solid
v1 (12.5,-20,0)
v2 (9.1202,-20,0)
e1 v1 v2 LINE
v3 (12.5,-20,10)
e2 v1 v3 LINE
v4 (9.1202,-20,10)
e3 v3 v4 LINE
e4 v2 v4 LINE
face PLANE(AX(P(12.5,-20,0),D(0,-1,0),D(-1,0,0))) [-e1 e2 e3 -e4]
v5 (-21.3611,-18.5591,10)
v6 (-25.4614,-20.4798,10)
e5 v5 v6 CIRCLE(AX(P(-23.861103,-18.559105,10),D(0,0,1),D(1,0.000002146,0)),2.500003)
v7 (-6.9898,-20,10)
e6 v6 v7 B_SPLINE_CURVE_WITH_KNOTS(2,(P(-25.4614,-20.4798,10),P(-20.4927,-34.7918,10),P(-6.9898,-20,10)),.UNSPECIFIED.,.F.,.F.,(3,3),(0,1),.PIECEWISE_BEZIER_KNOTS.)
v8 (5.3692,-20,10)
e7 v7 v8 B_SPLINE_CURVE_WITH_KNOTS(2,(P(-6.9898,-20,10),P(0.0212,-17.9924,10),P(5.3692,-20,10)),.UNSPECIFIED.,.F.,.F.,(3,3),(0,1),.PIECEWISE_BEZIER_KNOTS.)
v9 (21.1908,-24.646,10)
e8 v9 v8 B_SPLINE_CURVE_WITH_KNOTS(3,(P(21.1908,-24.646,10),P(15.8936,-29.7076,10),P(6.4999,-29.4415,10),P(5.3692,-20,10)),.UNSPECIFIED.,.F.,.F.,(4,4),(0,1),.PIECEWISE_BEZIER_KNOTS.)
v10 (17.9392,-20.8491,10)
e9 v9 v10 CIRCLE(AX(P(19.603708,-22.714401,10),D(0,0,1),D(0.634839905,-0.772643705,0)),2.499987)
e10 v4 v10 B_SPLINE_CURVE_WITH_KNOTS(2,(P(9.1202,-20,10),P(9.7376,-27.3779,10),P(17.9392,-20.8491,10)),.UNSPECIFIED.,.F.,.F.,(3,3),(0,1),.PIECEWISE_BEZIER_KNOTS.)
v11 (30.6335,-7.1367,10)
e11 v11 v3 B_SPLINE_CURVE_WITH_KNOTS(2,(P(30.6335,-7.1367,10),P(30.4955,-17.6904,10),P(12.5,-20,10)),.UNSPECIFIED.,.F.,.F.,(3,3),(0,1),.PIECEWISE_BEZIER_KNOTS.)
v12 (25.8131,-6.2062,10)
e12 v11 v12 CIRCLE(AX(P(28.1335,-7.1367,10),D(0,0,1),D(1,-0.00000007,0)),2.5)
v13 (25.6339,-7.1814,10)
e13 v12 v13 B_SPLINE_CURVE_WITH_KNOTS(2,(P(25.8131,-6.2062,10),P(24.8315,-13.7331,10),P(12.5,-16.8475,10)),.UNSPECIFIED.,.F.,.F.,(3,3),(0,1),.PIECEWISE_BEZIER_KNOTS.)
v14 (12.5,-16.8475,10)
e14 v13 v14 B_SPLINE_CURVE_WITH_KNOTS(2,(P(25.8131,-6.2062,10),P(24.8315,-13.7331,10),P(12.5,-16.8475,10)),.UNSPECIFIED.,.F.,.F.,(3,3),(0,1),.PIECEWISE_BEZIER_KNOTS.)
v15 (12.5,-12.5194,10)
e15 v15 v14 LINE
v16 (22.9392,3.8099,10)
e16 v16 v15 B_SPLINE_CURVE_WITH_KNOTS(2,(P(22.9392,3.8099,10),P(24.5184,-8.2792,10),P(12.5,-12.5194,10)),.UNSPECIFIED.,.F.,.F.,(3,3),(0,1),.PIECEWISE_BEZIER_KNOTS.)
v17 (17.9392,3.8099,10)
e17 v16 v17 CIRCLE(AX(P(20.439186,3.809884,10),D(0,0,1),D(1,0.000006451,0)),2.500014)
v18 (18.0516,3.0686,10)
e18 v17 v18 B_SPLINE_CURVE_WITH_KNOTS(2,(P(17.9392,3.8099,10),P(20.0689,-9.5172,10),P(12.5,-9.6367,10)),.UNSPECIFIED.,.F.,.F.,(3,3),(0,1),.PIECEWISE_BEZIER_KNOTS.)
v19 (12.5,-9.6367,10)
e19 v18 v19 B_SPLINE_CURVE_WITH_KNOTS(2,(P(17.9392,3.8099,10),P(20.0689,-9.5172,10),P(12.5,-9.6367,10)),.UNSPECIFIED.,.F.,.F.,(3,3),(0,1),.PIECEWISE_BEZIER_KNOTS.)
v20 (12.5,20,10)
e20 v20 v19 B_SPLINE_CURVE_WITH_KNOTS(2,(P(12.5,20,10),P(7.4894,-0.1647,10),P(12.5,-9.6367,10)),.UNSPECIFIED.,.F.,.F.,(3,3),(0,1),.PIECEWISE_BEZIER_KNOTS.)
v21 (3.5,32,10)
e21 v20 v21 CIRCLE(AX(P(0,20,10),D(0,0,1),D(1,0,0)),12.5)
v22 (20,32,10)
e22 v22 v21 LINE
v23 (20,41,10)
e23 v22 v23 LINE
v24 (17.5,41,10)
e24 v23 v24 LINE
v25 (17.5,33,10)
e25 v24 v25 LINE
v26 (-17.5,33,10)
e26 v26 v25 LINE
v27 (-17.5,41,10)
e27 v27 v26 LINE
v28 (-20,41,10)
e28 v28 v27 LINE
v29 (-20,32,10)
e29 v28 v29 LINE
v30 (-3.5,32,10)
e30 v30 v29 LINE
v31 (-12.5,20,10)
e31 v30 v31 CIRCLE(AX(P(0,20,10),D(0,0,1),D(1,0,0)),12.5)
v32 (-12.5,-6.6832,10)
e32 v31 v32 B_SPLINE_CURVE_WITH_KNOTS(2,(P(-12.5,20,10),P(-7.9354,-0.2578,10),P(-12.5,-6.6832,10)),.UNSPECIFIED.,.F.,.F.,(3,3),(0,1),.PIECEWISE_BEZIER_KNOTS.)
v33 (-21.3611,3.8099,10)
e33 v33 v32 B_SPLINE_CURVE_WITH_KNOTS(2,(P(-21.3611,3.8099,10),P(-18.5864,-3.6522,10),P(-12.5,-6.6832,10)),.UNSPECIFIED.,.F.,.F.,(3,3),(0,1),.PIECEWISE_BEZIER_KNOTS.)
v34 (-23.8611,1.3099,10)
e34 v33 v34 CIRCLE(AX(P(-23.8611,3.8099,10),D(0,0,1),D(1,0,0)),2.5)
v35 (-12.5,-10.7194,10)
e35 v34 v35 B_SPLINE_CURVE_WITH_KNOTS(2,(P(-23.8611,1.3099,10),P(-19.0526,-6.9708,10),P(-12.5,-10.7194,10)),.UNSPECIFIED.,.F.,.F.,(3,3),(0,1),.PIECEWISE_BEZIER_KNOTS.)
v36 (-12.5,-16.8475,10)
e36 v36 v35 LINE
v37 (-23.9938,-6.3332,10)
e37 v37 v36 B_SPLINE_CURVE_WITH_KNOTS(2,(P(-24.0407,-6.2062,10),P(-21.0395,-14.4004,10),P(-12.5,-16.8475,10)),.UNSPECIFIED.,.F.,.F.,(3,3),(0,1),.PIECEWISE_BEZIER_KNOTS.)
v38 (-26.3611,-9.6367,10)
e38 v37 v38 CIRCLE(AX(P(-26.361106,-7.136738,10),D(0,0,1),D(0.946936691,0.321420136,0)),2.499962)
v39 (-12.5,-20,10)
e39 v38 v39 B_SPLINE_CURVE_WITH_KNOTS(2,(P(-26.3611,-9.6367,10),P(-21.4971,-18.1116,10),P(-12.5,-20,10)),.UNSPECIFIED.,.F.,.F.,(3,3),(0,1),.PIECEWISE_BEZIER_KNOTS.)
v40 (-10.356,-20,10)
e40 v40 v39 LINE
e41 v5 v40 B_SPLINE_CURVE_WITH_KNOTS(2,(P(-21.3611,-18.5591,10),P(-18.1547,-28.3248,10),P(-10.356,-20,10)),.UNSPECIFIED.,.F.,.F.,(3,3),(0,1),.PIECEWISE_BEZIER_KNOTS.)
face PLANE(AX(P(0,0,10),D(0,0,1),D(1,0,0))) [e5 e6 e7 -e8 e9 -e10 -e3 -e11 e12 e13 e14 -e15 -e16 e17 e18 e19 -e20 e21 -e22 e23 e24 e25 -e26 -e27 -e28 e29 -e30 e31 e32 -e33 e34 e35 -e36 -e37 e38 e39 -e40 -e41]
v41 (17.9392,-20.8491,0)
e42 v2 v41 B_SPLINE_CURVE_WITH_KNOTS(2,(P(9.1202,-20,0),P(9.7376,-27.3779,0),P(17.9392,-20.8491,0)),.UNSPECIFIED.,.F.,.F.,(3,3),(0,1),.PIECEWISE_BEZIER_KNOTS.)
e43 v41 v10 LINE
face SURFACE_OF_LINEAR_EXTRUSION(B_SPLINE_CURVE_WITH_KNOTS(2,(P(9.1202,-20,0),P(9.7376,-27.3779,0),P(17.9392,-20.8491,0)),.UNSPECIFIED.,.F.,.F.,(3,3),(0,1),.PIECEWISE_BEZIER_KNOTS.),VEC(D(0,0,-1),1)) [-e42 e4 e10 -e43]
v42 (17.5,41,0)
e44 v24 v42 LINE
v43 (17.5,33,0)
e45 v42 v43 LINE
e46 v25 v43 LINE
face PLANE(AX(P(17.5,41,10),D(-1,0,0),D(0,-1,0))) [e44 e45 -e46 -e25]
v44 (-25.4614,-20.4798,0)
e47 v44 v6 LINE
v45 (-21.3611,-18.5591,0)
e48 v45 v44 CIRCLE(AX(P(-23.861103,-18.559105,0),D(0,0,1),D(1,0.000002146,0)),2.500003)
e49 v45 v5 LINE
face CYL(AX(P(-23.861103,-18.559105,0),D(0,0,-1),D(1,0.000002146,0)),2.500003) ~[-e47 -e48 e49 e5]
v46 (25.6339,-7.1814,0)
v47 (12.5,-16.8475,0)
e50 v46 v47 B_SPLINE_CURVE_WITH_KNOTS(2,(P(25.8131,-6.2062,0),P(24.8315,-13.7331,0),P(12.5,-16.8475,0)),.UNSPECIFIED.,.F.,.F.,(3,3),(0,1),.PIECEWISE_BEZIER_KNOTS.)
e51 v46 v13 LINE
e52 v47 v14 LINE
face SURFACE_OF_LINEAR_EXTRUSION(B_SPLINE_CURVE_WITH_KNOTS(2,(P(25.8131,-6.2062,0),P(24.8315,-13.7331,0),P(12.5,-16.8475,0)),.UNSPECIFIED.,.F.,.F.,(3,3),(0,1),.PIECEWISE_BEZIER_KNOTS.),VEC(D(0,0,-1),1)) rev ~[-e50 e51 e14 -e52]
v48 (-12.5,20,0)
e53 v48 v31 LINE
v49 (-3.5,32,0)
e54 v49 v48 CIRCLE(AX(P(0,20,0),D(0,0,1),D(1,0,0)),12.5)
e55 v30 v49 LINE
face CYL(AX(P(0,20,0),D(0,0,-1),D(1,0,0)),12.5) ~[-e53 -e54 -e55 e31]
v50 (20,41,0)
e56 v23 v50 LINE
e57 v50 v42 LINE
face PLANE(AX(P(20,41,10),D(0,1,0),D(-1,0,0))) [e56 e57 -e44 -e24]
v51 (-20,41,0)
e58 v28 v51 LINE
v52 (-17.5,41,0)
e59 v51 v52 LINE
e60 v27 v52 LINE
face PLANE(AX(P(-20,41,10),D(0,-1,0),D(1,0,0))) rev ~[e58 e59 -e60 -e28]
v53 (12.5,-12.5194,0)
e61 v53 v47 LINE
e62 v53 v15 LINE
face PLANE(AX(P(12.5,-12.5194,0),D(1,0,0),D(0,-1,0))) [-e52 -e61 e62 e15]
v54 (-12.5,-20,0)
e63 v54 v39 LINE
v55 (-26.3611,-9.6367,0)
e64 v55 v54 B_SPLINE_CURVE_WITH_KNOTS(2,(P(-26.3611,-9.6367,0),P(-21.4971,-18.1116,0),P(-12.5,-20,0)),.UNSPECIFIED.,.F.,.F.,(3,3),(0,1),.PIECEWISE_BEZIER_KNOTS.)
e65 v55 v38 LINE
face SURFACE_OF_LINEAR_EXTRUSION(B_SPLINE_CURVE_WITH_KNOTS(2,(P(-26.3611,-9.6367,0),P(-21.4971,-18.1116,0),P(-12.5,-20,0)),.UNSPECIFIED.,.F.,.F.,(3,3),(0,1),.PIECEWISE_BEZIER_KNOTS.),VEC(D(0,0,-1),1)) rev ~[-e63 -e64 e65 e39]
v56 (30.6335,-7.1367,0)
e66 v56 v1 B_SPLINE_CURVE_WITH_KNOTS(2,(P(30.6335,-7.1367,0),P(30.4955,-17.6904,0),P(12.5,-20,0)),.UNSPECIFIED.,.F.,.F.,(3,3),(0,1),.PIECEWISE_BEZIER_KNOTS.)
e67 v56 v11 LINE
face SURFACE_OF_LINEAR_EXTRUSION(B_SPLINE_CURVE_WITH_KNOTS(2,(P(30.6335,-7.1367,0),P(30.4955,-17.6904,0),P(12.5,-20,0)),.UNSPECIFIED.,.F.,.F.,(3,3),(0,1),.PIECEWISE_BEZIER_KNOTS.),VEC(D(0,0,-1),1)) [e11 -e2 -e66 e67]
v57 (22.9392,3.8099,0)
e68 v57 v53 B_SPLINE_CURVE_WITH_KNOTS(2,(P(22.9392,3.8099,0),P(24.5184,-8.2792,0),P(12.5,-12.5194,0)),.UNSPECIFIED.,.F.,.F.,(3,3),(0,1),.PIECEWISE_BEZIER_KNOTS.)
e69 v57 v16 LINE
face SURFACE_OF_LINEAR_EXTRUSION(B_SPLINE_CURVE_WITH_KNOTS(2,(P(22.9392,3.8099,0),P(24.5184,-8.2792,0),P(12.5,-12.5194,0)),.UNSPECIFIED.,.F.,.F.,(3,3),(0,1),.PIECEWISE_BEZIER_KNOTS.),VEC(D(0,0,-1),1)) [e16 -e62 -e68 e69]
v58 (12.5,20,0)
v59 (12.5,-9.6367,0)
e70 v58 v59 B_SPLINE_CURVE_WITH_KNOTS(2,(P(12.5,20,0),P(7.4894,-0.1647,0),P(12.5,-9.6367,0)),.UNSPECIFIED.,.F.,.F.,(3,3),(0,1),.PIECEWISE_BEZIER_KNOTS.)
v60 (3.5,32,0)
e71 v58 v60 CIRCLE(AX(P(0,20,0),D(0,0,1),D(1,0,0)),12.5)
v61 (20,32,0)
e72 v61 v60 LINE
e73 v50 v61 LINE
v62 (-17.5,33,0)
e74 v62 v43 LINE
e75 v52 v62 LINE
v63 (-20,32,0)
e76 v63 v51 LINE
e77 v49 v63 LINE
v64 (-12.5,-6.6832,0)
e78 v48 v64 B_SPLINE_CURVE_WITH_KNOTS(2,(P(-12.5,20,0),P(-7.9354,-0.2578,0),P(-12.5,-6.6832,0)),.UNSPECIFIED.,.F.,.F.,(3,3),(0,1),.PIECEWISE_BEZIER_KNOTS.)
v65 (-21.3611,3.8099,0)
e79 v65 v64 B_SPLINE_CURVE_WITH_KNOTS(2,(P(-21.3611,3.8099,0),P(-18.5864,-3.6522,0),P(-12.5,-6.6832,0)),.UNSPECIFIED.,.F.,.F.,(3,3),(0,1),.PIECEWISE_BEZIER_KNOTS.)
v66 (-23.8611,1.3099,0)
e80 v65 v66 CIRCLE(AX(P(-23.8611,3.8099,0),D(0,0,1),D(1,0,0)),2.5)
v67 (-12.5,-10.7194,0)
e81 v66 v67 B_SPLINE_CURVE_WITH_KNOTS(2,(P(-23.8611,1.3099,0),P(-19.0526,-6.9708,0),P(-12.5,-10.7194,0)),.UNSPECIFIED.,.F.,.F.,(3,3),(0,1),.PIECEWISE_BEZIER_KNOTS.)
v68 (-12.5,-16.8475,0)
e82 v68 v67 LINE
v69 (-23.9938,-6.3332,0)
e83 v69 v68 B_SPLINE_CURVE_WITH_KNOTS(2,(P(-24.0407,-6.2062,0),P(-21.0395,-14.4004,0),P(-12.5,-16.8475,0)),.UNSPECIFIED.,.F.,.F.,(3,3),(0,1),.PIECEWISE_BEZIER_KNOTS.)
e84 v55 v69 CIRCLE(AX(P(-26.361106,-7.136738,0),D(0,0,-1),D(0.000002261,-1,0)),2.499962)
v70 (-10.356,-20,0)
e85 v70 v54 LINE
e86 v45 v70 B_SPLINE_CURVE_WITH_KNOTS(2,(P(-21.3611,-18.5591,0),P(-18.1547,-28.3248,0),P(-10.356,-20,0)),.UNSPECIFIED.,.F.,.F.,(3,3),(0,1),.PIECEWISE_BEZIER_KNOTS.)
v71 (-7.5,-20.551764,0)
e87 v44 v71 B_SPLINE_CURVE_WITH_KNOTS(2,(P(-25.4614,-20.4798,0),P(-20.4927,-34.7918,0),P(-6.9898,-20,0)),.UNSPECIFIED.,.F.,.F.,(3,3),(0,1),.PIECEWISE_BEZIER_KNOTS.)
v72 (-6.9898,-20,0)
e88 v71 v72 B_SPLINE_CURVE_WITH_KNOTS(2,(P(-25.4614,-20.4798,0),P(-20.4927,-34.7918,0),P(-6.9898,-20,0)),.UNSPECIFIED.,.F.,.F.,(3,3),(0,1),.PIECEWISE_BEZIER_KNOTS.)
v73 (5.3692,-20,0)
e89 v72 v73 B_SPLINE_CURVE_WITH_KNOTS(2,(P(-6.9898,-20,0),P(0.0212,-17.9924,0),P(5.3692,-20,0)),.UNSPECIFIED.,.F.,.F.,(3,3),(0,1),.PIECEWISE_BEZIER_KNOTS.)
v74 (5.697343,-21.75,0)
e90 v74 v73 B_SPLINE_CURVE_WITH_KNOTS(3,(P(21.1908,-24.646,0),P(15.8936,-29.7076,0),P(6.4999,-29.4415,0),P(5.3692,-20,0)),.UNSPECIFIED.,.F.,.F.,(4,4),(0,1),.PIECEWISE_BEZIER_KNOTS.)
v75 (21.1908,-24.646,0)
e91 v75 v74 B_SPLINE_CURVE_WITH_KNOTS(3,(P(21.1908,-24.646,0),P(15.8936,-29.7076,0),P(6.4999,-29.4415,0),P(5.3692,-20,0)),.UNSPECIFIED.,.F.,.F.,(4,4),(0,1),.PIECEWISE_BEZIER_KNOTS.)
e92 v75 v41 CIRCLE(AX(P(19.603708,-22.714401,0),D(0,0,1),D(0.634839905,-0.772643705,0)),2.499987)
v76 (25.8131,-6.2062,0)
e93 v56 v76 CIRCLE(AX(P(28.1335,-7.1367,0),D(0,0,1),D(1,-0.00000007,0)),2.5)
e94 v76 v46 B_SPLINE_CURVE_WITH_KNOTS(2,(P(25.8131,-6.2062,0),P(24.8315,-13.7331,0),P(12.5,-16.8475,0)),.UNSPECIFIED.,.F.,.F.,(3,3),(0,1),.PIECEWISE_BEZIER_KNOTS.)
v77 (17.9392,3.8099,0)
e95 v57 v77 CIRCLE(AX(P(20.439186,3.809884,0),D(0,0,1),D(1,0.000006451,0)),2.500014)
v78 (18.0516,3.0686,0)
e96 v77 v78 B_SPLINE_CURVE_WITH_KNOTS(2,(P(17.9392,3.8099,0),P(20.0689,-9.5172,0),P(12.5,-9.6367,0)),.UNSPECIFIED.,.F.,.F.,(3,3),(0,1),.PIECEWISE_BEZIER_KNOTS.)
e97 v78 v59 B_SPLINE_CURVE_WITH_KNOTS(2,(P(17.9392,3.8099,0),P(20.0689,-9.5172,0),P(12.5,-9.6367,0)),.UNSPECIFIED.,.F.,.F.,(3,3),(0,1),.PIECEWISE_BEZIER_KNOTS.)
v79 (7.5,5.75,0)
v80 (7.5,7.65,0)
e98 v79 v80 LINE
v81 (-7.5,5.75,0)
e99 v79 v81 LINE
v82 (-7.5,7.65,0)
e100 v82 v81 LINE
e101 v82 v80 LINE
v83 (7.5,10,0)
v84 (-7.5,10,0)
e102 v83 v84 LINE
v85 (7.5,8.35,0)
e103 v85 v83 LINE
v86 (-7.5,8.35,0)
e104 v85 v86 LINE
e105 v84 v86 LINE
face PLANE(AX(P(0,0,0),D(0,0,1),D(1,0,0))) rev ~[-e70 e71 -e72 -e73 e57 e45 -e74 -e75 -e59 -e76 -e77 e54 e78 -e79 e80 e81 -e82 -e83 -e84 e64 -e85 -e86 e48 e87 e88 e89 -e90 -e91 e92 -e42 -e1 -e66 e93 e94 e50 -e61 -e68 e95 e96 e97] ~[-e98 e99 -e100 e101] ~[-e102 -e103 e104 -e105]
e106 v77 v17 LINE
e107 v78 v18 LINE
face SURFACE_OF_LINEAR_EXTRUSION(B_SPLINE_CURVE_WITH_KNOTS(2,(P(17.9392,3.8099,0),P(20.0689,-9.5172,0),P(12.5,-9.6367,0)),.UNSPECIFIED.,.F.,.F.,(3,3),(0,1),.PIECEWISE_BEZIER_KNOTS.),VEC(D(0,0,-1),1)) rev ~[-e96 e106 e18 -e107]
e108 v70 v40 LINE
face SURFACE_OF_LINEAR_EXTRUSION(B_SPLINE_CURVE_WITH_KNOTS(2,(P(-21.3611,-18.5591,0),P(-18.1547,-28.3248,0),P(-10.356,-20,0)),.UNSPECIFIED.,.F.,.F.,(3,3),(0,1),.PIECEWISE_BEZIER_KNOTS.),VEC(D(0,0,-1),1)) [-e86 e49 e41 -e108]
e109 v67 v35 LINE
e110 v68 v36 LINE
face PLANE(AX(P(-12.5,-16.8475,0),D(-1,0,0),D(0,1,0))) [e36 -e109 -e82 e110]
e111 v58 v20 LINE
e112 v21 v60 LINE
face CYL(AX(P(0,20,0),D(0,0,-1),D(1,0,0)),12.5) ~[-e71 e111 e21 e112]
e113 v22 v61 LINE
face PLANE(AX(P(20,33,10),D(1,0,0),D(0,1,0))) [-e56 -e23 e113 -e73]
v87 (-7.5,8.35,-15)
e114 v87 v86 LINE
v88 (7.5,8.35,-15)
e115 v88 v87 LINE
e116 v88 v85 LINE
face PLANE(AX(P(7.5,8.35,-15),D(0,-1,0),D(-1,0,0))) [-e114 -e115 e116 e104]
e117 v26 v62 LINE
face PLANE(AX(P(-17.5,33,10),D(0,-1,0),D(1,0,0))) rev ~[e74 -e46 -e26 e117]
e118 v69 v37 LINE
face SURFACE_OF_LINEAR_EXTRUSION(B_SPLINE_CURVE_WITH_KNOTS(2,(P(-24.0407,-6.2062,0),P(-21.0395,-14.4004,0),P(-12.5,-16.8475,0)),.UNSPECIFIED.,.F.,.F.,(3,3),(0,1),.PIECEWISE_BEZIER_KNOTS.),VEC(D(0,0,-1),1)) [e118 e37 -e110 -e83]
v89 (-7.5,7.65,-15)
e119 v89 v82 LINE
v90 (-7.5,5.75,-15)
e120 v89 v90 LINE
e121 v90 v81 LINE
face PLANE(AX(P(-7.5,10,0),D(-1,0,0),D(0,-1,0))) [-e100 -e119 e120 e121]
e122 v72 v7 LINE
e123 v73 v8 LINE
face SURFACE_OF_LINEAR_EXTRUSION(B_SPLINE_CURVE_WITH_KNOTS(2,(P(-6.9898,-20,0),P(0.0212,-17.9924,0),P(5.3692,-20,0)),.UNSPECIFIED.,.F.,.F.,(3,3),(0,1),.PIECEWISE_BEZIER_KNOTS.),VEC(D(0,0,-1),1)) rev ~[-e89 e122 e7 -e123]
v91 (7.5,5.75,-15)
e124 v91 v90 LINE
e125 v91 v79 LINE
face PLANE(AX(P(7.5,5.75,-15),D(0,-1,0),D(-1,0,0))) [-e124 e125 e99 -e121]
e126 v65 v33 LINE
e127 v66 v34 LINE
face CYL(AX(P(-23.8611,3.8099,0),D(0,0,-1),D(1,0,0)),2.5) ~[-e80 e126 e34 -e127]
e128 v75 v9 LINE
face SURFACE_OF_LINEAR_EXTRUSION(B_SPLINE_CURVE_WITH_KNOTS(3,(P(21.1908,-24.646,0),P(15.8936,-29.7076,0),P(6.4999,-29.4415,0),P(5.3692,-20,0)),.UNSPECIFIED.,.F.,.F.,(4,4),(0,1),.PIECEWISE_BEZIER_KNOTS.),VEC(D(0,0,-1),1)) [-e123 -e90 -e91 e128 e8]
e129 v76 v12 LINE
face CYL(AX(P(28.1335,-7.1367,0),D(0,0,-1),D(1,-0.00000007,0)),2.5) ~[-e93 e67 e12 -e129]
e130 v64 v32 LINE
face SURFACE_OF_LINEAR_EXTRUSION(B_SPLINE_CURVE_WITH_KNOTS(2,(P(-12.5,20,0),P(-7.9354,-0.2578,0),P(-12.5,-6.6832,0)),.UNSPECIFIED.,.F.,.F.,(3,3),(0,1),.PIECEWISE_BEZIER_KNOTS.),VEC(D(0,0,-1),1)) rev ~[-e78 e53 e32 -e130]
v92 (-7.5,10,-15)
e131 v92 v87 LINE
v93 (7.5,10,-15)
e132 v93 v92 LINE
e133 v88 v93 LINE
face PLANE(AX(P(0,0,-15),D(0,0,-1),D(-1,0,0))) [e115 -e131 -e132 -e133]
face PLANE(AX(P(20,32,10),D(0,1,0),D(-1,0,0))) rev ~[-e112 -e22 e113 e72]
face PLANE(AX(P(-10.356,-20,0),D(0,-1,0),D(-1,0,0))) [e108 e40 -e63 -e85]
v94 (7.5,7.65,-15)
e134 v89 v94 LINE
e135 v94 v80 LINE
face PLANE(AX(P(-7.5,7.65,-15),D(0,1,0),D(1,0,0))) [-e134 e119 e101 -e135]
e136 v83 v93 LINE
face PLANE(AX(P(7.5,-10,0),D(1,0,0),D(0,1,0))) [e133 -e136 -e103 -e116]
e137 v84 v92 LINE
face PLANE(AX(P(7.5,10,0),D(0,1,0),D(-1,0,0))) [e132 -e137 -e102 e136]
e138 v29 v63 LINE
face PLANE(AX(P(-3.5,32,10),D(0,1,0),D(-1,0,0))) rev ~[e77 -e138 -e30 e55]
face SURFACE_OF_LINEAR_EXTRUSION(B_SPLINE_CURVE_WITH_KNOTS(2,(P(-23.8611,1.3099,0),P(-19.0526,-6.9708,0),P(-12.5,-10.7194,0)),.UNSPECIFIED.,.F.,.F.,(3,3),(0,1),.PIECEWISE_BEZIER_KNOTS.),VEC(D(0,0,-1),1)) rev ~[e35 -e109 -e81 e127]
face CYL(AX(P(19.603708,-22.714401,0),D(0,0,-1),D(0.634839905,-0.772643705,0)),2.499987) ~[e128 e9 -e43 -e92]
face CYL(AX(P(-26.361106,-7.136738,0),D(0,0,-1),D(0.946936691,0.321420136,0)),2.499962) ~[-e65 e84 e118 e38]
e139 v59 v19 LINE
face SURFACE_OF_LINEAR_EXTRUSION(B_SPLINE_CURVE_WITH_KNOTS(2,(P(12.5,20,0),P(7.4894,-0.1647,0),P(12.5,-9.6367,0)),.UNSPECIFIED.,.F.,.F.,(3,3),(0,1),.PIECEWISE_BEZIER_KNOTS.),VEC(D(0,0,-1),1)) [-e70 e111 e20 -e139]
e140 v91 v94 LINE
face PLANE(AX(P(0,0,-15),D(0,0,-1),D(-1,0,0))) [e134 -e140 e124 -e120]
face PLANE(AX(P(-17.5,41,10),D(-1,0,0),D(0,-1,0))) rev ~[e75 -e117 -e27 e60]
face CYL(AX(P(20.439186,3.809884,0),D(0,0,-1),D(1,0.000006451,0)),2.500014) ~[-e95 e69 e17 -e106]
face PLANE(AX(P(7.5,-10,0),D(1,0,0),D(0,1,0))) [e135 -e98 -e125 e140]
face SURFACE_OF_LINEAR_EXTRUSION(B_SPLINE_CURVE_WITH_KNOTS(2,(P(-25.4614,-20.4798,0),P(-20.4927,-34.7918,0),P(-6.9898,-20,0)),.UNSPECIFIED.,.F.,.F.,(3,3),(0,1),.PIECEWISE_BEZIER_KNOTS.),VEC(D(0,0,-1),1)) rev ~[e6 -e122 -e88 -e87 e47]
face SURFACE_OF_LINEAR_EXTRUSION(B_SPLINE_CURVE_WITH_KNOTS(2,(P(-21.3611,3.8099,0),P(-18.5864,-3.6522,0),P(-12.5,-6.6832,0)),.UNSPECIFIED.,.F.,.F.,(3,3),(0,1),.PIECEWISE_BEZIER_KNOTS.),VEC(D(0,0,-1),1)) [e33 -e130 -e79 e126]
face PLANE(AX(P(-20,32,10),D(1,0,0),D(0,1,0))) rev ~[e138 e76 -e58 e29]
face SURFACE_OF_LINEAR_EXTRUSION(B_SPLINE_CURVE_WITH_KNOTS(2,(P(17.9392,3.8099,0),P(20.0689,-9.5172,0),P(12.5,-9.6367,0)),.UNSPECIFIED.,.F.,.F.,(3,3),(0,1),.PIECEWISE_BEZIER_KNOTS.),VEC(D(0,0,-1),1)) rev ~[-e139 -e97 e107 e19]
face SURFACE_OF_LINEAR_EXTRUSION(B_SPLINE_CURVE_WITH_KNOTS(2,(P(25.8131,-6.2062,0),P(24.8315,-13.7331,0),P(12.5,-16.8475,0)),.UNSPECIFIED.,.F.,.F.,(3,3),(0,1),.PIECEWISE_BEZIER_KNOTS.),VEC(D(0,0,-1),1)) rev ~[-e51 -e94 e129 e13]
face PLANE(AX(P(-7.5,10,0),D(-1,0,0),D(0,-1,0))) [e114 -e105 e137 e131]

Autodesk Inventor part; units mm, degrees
ref_plane "YZ Plane" through (0, 0, 0) normal (1, 0, 0) x (0, 1, 0)
ref_plane "XZ Plane" through (0, 0, 0) normal (0, 1, 0) x (-1, 0, 0)
ref_plane "XY Plane" through (0, 0, 0) normal (0, 0, 1) x (1, 0, 0)
sketch "Sketch2" plane through (0, 0, 0) normal (0, 0, 1) x (1, 0, 0)
  line L0 (-12.5, -16.8475) -> (-12.5, -10.7194)
  line L1 (12.5, -12.5194) -> (12.5, -16.8475)
  line L2 (12.5, -20) -> (-12.5, 20) construction
  line L3 (-12.5, -20) -> (12.5, 20) construction
  arc A0 (12.5, 20) -> (-12.5, 20) centre (0, 20) ccw
  arc A1 (-23.9938, -6.3332) -> (-26.3611, -9.6367) centre (-26.3611, -7.1367) ccw
  arc A2 (-21.3611, 3.8099) -> (-23.8611, 1.3099) centre (-23.8611, 3.8099) ccw
  arc A3 (-21.3611, -18.5591) -> (-25.4614, -20.4798) centre (-23.8611, -18.5591) ccw
  arc A4 (22.9392, 3.8099) -> (18.0516, 3.0686) centre (20.4392, 3.8099) ccw
  arc A5 (30.6335, -7.1367) -> (25.6339, -7.1814) centre (28.1335, -7.1367) ccw
  arc A6 (21.1908, -24.646) -> (17.9392, -20.8491) centre (19.6037, -22.7144) ccw
  spline S0 degree 2 poles (-23.8611, 1.3099) (-19.0526, -6.9708) (-12.5, -10.7194) knots 0 0 0 1 1 1
  spline S1 degree 2 poles (-21.3611, 3.8099) (-18.5864, -3.6522) (-12.5, -6.6832) knots 0 0 0 1 1 1
  spline S2 degree 2 poles (-26.3611, -9.6367) (-21.4971, -18.1116) (-12.5, -20) knots 0 0 0 1 1 1
  spline S3 degree 2 poles (-24.0407, -6.2062) (-21.0395, -14.4004) (-12.5, -16.8475) knots 0 0 0 1 1 1
  spline S4 degree 2 poles (-21.3611, -18.5591) (-18.1547, -28.3248) (-10.356, -20) knots 0 0 0 1 1 1
  spline S5 degree 2 poles (-25.4614, -20.4798) (-20.4927, -34.7918) (-6.9898, -20) knots 0 0 0 1 1 1
  spline S6 degree 2 poles (17.9392, 3.8099) (20.0689, -9.5172) (12.5, -9.6367) knots 0 0 0 1 1 1
  spline S7 degree 2 poles (22.9392, 3.8099) (24.5184, -8.2792) (12.5, -12.5194) knots 0 0 0 1 1 1
  spline S8 degree 2 poles (25.8131, -6.2062) (24.8315, -13.7331) (12.5, -16.8475) knots 0 0 0 1 1 1
  spline S9 degree 2 poles (30.6335, -7.1367) (30.4955, -17.6904) (12.5, -20) knots 0 0 0 1 1 1
  spline S10 degree 2 poles (9.1202, -20) (9.7376, -27.3779) (17.9392, -20.8491) knots 0 0 0 1 1 1
  spline S11 degree 3 poles (21.1908, -24.646) (15.8936, -29.7076) (6.4999, -29.4415) (5.3692, -20) knots 0 0 0 0 1 1 1 1
  spline S12 degree 2 poles (12.5, 20) (7.4894, -0.1647) (12.5, -9.6367) knots 0 0 0 1 1 1
  spline S13 degree 2 poles (-12.5, 20) (-7.9354, -0.2578) (-12.5, -6.6832) knots 0 0 0 1 1 1
  line L4 (12.5, -20) -> (9.1202, -20)
  line L5 (-10.356, -20) -> (-12.5, -20)
  spline S14 degree 2 poles (-6.9898, -20) (0.0212, -17.9924) (5.3692, -20) knots 0 0 0 1 1 1
  point P0 (0, 0)
  point P1 (-18.2659, -6.203)
  point P2 (-17.5697, -2.7642)
  point P3 (-20.3482, -16.5508)
  point P4 (-19.6835, -12.9372)
  point P5 (-17.232, -23.7647)
  point P6 (-19.3511, -27.4539)
  point P7 (17.0045, -7.4262)
  point P8 (21.1905, -6.2037)
  point P9 (22.9403, -11.7957)
  point P10 (27.4494, -14.4708)
  point P11 (11.0482, -23.7717)
  point P12 (14.8952, -27.8035)
  point P13 (9.1239, -26.7454)
  point P14 (10.0714, -0.0017)
  point P15 (-10.3694, -0.0099)
  point P16 (0, -19.0003)
  dimension "d6" = 40
  dimension "d7" = 25
  dimension "d8" = 5
  dimension "d9" = 5
  dimension "d10" = 5
  dimension "d11" = 5
  dimension "d12" = 5
  dimension "d13" = 5
extrude "Extrusion1" add sketch "Sketch2" along normal blind 10 contours L0 S0 A2 S1 S13 A0 S12 S6 A4 S7 L1 S8 A5 S9 L4 S10 A6 S11 S14 S5 A3 S4 L5 S2 A1 S3
sketch "Sketch3" plane through (0, 0, 0) normal (0, 0, -1) x (-1, 0, 0)
  line L0 (7.5, -10) -> (-7.5, -10)
  line L1 (-7.5, -10) -> (-7.5, 10)
  line L2 (-7.5, 10) -> (7.5, 10)
  line L3 (7.5, 10) -> (7.5, -10)
  line L4 (7.5, -10) -> (-7.5, 10) construction
  line L5 (-7.5, -10) -> (7.5, 10) construction
  point P0 (0, 0)
  dimension "d16" = 15
  dimension "d17" = 20
extrude "Belt box" add sketch "Sketch3" along normal blind 15
sketch "Sketch4" plane through (0, 0, -15) normal (0, 0, -1) x (-1, 0, 0)
  line L0 (0, 0) -> (0, 8) construction
  line L1 (0, 0) -> (0, -8) construction
  line L2 (7.5, 7.65) -> (-7.5, 7.65)
  line L3 (-7.5, 7.65) -> (-7.5, 8.35)
  line L4 (-7.5, 8.35) -> (7.5, 8.35)
  line L5 (7.5, 8.35) -> (7.5, 7.65)
  line L6 (7.5, 7.65) -> (-7.5, 8.35) construction
  line L7 (-7.5, 7.65) -> (7.5, 8.35) construction
  line L8 (7.5, -21.75) -> (-7.5, -21.75)
  line L9 (-7.5, -21.75) -> (-7.5, 5.75)
  line L10 (-7.5, 5.75) -> (7.5, 5.75)
  line L11 (7.5, 5.75) -> (7.5, -21.75)
  line L12 (7.5, -21.75) -> (-7.5, 5.75) construction
  line L13 (-7.5, -21.75) -> (7.5, 5.75) construction
  dimension "d20" = 8
  dimension "d21" = 8
  dimension "d22" = 15
  dimension "d23" = 0.7
  dimension "d24" = 15
  dimension "d25" = 27.5
extrude "belt cut out" cut sketch "Sketch4" against normal blind 15
sketch "Sketch5" plane through (0, 0, 10) normal (0, 0, 1) x (1, 0, 0)
  line L0 (-17.5, 33) -> (17.5, 33)
  line L1 (20, 33) -> (20, 32)
  line L2 (20, 32) -> (-20, 32)
  line L3 (-20, 32) -> (-20, 33)
  arc A0 (12.5, 20) -> (-12.5, 20) centre (0, 20) ccw projected
  line L4 (-20, 33) -> (20, 32) construction
  line L5 (20, 33) -> (-20, 32) construction
  line L6 (-20, 33) -> (-20, 58) construction
  line L7 (20, 33) -> (20, 58) construction
  line L8 (-20, 33) -> (-20, 41)
  line L9 (-20, 41) -> (-17.5, 41)
  line L10 (-17.5, 41) -> (-17.5, 33)
  line L11 (20, 33) -> (20, 41)
  line L12 (20, 41) -> (17.5, 41)
  line L13 (17.5, 41) -> (17.5, 33)
  point P0 (0, 0)
  point P1 (0, 32.5)
  point P2 (-3.5, 32)
  point P3 (3.5, 32)
  dimension "d29" = 1
  dimension "d30" = 25
  dimension "d31" = 25
  dimension "d33" = 8
  dimension "d34" = 8
extrude "Extrusion4" add sketch "Sketch5" against normal blind 10 contours L0 L13 L12 L11 L1 L2 A0 L3 L8 L9 L10
properties part number "octopus_on_belt"
